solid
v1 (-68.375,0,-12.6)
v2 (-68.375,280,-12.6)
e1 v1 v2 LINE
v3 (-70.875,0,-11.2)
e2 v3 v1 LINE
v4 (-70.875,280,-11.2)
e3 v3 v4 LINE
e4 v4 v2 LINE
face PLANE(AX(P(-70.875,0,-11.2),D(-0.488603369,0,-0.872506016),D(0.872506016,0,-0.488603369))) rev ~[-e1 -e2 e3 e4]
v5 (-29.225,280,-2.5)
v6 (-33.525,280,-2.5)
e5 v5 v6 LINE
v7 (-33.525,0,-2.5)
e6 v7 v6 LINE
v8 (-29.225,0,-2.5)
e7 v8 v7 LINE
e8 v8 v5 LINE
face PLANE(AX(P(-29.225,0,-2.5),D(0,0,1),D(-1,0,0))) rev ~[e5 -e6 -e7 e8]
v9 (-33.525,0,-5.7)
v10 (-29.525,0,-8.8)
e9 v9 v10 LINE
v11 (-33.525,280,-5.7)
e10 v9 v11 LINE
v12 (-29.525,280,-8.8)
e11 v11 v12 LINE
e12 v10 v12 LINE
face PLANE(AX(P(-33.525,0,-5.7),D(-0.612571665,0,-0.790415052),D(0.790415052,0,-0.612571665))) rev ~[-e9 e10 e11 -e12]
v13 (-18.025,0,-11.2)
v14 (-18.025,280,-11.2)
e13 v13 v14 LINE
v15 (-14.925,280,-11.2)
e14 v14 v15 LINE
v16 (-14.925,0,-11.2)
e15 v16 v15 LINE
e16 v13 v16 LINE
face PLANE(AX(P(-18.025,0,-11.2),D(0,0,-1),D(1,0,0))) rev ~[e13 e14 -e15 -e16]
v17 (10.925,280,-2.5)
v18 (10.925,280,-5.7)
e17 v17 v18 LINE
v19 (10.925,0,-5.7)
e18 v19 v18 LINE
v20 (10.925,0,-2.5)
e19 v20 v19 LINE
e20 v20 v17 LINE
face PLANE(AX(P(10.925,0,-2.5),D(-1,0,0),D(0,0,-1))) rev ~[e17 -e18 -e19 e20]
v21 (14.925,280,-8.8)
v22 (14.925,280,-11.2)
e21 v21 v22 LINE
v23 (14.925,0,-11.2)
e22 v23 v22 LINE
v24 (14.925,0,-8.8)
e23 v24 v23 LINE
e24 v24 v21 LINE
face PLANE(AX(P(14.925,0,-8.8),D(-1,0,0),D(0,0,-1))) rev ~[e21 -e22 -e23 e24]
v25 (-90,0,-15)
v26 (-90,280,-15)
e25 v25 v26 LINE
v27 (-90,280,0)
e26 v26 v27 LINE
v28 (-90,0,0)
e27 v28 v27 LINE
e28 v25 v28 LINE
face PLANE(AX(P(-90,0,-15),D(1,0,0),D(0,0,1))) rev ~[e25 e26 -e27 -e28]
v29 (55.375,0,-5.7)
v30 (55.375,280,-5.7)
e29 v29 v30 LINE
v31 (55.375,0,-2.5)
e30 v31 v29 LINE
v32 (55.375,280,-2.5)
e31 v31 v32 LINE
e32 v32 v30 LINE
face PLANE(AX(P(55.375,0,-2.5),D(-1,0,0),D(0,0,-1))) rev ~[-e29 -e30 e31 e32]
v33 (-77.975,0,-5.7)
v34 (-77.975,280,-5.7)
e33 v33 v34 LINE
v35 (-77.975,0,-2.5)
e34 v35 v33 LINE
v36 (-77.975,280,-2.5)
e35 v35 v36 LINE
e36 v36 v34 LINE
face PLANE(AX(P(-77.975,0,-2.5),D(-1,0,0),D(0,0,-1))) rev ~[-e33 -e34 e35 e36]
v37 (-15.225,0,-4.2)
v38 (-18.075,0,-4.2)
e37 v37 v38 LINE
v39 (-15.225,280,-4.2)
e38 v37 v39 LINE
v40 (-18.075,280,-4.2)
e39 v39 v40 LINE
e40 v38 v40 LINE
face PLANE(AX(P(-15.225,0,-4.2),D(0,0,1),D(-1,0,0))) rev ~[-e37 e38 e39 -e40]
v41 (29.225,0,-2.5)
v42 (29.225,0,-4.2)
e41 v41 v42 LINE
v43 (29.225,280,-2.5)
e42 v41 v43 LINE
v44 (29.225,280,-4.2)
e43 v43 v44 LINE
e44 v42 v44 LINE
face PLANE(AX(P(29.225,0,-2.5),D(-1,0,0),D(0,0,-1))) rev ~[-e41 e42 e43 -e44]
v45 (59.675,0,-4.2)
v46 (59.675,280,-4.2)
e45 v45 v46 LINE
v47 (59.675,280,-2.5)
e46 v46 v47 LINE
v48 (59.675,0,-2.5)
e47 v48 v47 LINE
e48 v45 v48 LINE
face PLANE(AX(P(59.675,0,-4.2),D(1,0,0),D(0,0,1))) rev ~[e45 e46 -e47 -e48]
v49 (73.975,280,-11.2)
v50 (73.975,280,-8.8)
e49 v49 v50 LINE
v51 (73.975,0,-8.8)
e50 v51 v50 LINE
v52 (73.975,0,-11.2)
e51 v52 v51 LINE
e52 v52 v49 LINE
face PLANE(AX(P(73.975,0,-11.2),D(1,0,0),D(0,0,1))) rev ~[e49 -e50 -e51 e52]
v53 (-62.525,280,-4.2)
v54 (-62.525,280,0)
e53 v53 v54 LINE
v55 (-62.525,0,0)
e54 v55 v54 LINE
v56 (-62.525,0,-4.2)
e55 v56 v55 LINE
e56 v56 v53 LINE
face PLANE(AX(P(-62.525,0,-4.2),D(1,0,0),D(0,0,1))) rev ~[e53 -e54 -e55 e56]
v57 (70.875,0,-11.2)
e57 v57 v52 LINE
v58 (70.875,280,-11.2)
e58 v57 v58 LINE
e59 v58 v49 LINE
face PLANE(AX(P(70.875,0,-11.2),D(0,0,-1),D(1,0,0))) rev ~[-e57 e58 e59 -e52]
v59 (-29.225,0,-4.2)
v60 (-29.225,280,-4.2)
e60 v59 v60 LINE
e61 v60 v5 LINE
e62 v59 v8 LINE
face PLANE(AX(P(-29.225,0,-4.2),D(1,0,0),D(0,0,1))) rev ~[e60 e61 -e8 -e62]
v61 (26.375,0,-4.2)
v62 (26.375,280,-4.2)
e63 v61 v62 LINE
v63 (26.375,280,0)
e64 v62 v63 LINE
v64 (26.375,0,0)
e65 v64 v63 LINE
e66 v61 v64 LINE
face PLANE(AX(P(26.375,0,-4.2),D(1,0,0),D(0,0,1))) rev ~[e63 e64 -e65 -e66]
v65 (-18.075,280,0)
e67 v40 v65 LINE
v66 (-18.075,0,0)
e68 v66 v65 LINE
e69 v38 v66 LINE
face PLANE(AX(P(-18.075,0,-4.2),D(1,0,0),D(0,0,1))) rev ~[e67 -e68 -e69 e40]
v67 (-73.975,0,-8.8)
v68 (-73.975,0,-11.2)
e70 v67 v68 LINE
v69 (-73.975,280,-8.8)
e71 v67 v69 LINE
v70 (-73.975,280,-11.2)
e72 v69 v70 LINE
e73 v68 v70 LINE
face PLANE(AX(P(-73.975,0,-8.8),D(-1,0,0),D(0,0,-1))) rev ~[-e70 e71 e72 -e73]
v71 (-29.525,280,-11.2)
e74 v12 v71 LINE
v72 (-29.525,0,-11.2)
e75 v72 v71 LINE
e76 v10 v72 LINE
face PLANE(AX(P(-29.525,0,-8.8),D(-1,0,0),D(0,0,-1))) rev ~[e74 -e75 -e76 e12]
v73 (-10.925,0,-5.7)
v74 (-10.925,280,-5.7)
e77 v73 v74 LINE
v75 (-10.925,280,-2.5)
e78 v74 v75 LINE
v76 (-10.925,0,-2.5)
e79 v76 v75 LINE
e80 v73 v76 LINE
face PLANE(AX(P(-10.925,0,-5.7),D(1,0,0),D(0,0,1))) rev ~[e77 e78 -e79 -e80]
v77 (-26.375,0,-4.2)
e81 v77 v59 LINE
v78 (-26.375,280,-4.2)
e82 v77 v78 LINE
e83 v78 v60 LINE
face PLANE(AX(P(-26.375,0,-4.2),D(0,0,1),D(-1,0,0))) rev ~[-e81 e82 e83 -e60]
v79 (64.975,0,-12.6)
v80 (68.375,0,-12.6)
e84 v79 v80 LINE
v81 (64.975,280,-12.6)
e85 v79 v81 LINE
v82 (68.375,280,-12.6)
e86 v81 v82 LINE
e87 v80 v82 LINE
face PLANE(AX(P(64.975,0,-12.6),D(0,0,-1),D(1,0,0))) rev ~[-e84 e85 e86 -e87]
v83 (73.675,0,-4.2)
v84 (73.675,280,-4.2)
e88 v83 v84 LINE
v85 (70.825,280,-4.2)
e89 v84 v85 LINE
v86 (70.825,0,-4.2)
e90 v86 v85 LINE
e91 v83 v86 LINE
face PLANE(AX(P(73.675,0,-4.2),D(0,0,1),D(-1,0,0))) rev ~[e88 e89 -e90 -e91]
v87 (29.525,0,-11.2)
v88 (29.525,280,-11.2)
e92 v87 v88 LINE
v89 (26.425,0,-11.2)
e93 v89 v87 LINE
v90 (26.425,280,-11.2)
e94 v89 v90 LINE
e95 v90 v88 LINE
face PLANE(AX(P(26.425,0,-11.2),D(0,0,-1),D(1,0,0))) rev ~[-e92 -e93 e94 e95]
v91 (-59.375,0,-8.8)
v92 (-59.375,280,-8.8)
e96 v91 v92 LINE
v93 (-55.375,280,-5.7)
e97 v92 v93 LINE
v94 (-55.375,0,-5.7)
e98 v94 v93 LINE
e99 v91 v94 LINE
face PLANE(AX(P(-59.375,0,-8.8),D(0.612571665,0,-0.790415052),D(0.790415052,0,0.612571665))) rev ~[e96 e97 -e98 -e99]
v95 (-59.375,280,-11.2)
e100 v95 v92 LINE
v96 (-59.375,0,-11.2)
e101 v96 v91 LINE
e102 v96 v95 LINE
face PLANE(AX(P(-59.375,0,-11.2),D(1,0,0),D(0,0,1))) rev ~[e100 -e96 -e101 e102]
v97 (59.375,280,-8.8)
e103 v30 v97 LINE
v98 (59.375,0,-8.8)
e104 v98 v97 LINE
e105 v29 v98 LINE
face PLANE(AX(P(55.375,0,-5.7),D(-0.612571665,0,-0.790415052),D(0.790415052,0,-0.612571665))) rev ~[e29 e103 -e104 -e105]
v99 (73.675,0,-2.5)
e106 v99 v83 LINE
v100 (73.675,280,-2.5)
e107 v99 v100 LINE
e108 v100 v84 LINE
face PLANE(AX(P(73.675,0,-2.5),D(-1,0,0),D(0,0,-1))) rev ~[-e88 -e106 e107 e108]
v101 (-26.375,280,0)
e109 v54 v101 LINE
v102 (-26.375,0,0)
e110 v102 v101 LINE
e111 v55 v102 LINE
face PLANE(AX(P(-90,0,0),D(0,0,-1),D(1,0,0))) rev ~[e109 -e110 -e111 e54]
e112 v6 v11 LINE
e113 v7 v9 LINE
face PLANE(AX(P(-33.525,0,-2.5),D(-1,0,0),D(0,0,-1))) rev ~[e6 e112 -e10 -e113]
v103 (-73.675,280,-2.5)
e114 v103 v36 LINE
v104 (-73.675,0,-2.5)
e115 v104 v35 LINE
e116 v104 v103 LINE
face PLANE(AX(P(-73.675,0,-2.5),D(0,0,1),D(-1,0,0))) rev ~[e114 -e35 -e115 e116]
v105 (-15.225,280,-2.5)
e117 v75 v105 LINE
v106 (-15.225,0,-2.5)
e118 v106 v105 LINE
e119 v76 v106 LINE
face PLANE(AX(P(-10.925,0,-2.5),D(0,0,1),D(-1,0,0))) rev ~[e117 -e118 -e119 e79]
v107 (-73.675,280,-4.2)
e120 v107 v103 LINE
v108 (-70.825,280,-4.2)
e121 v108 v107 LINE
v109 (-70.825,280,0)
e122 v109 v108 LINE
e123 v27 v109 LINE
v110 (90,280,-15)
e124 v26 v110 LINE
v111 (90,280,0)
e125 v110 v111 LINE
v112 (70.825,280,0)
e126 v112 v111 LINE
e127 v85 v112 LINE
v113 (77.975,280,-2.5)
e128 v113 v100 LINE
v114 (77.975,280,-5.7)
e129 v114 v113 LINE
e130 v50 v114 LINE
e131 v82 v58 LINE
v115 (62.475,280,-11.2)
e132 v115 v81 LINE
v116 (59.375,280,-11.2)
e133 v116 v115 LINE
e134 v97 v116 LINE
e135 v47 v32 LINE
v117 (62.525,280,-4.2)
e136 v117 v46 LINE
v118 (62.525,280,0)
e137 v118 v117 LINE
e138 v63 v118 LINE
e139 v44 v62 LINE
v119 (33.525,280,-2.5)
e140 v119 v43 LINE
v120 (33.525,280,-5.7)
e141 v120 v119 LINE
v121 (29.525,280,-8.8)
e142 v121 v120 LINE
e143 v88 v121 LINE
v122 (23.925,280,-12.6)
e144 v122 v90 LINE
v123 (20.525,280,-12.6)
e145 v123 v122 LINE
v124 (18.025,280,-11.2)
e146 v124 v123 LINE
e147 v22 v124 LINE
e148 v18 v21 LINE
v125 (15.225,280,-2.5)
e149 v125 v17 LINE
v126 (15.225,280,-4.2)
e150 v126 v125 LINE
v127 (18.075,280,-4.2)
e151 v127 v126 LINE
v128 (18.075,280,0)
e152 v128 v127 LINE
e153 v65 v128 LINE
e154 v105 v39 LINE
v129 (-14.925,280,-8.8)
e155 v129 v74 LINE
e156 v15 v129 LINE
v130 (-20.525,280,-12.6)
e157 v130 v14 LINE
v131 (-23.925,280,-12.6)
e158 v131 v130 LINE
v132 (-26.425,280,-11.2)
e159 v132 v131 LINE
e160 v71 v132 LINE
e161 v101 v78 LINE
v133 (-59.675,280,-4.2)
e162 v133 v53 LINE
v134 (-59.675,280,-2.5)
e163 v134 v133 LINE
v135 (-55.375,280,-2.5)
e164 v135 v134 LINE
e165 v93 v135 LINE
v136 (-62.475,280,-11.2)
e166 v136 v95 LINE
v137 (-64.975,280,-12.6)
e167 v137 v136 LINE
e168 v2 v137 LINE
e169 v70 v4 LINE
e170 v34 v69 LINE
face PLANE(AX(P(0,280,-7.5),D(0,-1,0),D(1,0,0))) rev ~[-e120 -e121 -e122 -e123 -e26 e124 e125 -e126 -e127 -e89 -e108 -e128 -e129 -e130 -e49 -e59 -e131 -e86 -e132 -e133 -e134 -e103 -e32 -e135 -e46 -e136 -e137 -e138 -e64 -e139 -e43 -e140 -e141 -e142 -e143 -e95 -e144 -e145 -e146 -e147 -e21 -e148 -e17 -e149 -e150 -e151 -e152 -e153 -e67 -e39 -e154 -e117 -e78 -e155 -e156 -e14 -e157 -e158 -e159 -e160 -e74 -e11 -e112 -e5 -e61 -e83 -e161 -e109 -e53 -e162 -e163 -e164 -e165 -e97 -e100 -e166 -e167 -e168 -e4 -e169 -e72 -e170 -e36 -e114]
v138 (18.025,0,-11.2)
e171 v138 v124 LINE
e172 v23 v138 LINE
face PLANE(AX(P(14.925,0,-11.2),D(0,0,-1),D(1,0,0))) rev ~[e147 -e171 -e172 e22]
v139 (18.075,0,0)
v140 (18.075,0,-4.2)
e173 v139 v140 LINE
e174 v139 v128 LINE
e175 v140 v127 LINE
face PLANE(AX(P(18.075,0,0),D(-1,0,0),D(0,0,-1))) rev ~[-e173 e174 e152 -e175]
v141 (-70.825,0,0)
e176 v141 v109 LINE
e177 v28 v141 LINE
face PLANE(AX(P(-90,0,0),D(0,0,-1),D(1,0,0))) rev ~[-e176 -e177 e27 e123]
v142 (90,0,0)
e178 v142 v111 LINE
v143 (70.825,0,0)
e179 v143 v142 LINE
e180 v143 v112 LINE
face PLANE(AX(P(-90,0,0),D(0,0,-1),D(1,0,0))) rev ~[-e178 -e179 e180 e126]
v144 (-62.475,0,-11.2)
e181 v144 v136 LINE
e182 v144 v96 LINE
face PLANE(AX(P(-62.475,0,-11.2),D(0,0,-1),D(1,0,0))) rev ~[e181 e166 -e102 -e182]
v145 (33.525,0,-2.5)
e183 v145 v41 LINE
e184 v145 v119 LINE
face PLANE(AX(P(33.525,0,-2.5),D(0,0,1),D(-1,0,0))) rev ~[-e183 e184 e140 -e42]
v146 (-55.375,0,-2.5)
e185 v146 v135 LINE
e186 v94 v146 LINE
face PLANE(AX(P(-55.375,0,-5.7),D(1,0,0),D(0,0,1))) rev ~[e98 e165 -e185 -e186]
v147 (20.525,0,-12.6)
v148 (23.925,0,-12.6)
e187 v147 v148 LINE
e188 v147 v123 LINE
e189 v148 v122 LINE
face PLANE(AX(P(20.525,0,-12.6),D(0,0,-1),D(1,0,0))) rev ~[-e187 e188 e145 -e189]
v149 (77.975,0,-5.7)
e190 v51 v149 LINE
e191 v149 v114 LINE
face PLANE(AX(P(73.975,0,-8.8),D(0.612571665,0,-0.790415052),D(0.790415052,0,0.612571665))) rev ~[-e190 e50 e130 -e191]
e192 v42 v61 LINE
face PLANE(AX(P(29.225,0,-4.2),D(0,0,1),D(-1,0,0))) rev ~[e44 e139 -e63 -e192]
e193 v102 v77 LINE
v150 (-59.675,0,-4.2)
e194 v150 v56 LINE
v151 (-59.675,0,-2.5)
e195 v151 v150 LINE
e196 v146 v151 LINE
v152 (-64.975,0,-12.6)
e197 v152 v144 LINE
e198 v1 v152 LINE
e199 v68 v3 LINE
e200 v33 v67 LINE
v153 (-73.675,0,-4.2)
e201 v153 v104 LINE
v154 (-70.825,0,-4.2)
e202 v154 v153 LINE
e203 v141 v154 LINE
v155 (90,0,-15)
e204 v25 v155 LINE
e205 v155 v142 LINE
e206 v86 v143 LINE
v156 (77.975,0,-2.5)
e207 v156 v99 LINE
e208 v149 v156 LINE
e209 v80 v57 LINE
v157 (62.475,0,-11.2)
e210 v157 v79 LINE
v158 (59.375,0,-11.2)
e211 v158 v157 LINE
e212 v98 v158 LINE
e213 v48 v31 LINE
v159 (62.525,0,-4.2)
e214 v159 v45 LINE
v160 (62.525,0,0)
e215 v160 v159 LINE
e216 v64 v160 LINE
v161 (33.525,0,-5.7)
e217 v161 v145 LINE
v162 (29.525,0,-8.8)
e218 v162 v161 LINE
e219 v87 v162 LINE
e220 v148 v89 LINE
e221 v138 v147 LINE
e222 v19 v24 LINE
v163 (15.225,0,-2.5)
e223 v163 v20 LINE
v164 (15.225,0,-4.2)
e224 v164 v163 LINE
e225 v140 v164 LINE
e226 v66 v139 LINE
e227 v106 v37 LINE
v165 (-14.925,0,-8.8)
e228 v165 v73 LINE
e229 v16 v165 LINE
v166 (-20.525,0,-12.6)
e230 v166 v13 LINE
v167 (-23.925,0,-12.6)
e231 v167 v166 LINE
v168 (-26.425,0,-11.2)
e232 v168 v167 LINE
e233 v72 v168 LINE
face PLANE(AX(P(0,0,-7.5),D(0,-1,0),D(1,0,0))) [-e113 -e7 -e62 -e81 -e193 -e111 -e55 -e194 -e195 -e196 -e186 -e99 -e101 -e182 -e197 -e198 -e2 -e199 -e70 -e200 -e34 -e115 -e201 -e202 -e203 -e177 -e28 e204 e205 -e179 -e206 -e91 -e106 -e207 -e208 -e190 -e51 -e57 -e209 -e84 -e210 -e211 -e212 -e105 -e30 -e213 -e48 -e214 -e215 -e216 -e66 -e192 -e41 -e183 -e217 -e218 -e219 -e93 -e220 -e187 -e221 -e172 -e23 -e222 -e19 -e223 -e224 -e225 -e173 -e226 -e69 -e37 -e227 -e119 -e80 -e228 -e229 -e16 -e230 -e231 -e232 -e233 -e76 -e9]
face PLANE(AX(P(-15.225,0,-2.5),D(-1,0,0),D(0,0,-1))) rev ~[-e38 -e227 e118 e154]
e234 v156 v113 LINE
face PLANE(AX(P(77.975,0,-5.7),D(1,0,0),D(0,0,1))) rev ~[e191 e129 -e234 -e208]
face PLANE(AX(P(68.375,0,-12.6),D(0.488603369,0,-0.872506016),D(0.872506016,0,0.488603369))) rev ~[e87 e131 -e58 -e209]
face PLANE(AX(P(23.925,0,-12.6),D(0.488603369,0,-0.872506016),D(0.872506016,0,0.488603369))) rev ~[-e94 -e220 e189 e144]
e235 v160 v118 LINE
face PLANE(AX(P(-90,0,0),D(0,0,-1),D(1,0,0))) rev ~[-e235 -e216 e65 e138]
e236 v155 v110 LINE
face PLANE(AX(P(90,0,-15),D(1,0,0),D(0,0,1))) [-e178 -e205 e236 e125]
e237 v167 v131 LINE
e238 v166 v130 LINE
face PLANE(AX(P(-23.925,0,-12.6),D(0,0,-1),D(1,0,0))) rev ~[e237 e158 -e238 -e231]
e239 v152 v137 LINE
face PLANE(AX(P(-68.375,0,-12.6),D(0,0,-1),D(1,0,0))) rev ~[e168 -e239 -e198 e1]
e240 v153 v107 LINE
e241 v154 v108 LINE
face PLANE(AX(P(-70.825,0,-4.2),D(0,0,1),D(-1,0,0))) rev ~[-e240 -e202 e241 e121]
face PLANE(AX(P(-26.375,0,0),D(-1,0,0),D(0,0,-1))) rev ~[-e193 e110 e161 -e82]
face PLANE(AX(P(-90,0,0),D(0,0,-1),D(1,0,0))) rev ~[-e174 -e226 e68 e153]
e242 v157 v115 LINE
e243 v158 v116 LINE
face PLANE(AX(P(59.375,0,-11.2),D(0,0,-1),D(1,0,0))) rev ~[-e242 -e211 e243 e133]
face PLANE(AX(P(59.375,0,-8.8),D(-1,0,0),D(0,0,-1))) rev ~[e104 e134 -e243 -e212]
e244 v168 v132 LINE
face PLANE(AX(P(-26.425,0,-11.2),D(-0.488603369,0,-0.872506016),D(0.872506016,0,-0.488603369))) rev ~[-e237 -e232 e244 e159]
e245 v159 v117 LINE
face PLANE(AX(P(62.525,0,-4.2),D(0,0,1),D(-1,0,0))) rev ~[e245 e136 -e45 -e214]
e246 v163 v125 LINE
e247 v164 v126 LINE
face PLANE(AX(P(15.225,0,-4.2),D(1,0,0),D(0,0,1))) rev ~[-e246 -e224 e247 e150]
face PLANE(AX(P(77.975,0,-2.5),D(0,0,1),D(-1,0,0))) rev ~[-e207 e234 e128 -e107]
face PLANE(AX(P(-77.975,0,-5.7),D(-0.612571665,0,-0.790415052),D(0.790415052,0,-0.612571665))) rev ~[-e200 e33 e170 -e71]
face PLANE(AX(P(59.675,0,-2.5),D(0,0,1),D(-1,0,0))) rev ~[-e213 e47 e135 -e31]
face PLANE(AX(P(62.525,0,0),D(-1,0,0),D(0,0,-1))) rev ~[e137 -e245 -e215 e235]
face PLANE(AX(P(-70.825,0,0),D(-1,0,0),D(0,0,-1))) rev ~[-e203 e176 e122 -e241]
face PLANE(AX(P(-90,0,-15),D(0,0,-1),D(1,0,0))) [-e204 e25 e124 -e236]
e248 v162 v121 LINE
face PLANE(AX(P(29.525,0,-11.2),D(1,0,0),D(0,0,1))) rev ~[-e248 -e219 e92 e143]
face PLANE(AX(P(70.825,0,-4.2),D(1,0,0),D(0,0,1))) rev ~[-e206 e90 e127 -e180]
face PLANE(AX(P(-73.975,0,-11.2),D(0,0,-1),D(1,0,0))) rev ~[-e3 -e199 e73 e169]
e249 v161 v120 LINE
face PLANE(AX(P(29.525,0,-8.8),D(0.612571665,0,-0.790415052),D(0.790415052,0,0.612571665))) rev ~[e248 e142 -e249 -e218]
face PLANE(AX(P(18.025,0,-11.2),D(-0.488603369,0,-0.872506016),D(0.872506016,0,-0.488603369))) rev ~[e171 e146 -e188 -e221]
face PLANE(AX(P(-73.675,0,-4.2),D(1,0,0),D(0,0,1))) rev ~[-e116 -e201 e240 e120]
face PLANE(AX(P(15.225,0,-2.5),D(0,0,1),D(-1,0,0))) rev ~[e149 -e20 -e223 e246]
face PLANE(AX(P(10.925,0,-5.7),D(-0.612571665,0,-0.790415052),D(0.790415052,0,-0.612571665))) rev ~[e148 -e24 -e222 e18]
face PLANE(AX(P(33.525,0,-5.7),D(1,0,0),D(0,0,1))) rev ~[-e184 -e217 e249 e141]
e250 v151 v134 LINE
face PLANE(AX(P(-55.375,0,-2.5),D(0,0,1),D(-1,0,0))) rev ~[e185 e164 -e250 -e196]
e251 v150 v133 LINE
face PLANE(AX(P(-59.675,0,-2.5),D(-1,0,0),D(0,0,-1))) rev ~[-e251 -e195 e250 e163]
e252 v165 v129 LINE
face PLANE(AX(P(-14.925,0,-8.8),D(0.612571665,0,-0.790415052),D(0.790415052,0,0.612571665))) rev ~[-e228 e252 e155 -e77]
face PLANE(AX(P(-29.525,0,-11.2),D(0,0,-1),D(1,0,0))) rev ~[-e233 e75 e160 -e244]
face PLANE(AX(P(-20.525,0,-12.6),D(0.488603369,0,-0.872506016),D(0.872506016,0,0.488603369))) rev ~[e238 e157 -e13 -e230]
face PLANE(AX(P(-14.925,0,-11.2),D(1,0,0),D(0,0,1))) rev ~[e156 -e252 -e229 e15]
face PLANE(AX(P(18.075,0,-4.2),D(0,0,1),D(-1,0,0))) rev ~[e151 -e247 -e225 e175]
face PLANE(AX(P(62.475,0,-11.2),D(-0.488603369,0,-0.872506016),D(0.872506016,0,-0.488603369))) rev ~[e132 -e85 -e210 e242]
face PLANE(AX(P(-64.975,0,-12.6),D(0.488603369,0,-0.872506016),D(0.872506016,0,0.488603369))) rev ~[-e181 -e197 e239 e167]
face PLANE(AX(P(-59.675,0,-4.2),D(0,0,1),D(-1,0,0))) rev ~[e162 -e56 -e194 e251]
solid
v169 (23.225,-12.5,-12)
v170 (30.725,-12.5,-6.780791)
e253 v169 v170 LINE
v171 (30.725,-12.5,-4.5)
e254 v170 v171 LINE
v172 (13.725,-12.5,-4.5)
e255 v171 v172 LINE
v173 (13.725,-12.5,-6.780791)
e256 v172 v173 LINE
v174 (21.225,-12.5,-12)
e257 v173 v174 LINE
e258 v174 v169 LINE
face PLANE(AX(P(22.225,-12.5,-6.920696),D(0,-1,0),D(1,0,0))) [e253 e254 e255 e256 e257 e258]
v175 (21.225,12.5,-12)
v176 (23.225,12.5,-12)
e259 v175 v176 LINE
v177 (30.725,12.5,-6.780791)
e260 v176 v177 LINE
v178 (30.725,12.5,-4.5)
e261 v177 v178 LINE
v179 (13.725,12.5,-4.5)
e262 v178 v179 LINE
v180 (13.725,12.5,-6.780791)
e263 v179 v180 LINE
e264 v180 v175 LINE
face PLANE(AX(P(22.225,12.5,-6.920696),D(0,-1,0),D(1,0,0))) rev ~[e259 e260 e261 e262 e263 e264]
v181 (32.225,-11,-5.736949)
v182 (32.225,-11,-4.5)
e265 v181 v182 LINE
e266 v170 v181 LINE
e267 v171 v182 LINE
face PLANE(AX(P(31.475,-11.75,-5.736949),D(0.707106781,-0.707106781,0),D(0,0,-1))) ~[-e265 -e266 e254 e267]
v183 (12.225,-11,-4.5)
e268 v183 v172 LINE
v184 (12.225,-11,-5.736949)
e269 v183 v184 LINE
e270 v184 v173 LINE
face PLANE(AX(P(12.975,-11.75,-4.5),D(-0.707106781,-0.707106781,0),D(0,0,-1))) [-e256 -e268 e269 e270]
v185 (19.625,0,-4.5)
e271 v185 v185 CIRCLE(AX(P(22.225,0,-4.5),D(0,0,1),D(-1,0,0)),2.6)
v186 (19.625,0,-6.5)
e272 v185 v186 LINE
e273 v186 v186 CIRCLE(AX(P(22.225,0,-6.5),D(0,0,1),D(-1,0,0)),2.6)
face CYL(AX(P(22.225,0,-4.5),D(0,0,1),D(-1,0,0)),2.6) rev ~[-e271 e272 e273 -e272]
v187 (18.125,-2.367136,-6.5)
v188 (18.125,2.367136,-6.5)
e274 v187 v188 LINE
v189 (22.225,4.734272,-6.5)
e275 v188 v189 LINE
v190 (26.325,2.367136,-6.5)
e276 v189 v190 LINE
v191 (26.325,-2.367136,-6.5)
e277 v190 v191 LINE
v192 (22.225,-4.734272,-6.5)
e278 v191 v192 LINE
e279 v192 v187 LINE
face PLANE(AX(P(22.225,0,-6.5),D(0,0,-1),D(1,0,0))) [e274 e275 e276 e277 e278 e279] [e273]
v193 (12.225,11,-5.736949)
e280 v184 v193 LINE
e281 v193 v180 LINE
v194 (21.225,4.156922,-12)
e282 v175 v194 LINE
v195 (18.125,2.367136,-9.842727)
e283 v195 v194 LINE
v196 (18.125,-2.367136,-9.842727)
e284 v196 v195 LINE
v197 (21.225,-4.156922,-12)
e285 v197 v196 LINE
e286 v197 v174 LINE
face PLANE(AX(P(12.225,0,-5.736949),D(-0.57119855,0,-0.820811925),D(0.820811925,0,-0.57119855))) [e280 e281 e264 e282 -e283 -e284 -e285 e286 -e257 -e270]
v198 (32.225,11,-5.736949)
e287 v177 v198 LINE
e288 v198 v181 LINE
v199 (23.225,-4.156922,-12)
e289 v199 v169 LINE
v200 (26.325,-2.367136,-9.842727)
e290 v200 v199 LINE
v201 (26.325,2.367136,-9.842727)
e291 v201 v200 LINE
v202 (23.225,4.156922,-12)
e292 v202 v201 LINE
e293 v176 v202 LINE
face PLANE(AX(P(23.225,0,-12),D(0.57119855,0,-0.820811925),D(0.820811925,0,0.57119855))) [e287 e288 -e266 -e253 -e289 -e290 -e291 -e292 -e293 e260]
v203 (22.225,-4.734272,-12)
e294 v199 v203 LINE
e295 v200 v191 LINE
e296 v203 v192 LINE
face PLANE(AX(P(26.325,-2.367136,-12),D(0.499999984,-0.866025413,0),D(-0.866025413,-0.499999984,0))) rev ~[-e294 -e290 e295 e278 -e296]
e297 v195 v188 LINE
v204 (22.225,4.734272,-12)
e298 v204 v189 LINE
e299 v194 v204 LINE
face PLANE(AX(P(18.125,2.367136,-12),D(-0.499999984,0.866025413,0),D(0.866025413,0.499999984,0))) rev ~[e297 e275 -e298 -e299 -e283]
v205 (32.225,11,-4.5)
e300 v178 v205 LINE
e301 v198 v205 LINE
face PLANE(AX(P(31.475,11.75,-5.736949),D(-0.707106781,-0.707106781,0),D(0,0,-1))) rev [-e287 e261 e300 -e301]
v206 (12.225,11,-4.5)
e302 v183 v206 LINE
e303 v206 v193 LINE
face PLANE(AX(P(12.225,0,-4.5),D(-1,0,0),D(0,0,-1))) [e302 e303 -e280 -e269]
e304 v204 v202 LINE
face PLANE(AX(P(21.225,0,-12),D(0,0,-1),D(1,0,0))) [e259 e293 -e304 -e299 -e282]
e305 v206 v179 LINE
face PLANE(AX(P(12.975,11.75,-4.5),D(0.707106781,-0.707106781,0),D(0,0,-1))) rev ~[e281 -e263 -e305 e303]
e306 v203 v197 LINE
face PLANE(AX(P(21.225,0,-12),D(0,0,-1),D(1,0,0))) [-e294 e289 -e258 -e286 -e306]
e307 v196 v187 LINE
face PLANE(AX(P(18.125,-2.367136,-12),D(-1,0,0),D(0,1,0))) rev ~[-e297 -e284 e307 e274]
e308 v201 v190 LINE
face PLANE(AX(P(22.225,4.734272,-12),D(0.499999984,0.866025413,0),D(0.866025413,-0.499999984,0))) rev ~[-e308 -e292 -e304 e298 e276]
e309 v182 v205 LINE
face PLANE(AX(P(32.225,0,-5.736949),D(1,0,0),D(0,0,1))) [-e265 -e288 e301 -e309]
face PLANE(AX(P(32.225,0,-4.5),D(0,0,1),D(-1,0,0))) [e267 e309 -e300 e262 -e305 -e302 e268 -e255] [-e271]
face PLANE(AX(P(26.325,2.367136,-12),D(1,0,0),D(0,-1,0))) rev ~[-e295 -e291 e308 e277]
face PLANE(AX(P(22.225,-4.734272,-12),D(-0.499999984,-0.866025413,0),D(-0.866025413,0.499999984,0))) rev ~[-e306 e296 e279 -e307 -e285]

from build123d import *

# Parameters (mm, degrees)
SKETCH001_W         = 180
SKETCH001_H         = 15
PAD_DEPTH           = 280
POCKET_DEPTH        = 280.001
LINEARPATTERN_COUNT = 4
LINEARPATTERN_PITCH = 44.45
PAD001_DEPTH        = 12.5
POCKET001_DEPTH     = 5.5
SKETCH004_R         = 2.6
POCKET002_DEPTH     = 5
CHAMFER_SIZE        = 1.5


with BuildPart() as body:
    # Sketch001 → Pad (new body)
    with BuildSketch(Plane.XZ):
        with Locations((0, -7.5)):
            Rectangle(SKETCH001_W, SKETCH001_H)
    extrude(amount=-PAD_DEPTH)

    # Sketch → Pocket (cut, through all)
    with BuildSketch(Plane.XZ):
        Polygon((-70.825, 0), (-70.825, -4.2), (-73.675, -4.2), (-73.675, -2.5), (-77.975, -2.5), (-77.975, -5.7), (-73.975, -8.8), (-73.975, -11.2), (-70.875, -11.2), (-68.375, -12.6), (-64.975, -12.6), (-62.475, -11.2), (-59.375, -11.2), (-59.375, -8.8), (-55.375, -5.7), (-55.375, -2.5), (-59.675, -2.5), (-59.675, -4.2), (-62.525, -4.2), (-62.525, 0), align=None)
    pocket = extrude(amount=-POCKET_DEPTH, mode=Mode.SUBTRACT)

    # LinearPattern: Pocket ×4
    with Locations(*[(i * LINEARPATTERN_PITCH, 0, 0) for i in range(1, LINEARPATTERN_COUNT)]):
        add(pocket, mode=Mode.SUBTRACT)


with BuildPart() as body001:
    # Sketch002 → Pad001 (new body, symmetric)
    with BuildSketch(Plane.XZ):
        Polygon((-10, -5.736949), (-1, -12), (1, -12), (10, -5.736949), (10, -4.5), (-10, -4.5), align=None)
    extrude(amount=PAD001_DEPTH, both=True)

    # Sketch003 (on Face2 of Pad001) → Pocket001 (cut)
    with BuildSketch(Plane(origin=(0, 0, -12), x_dir=(1, 0, 0), z_dir=(0, 0, -1))):
        Polygon((0, 4.734272), (-4.1, 2.367136), (-4.1, -2.367136), (0, -4.734272), (4.1, -2.367136), (4.1, 2.367136), align=None)
    extrude(amount=-POCKET001_DEPTH, mode=Mode.SUBTRACT)

    # Sketch004 (on Face12 of Pocket001) → Pocket002 (cut)
    with BuildSketch(Plane(origin=(0, 0, -4.5), x_dir=(-1, 0, 0), z_dir=(0, 0, 1))):
        Circle(SKETCH004_R)
    extrude(amount=-POCKET002_DEPTH, mode=Mode.SUBTRACT)

    # Chamfer
    chamfer_edges = [body001.edges().sort_by_distance(p)[0] for p in [
        (-10, -12.5, -5.118474),
        (10, -12.5, -5.118474),
        (-10, 12.5, -5.118474),
        (10, 12.5, -5.118474),
    ]]
    chamfer(chamfer_edges, length=CHAMFER_SIZE)


with BuildPart() as body001_1:
    # Body001 placement: moved
    add(body001.part.moved(Location((22.225, 0, 0))))


solid = Compound([body.part, body001_1.part])
